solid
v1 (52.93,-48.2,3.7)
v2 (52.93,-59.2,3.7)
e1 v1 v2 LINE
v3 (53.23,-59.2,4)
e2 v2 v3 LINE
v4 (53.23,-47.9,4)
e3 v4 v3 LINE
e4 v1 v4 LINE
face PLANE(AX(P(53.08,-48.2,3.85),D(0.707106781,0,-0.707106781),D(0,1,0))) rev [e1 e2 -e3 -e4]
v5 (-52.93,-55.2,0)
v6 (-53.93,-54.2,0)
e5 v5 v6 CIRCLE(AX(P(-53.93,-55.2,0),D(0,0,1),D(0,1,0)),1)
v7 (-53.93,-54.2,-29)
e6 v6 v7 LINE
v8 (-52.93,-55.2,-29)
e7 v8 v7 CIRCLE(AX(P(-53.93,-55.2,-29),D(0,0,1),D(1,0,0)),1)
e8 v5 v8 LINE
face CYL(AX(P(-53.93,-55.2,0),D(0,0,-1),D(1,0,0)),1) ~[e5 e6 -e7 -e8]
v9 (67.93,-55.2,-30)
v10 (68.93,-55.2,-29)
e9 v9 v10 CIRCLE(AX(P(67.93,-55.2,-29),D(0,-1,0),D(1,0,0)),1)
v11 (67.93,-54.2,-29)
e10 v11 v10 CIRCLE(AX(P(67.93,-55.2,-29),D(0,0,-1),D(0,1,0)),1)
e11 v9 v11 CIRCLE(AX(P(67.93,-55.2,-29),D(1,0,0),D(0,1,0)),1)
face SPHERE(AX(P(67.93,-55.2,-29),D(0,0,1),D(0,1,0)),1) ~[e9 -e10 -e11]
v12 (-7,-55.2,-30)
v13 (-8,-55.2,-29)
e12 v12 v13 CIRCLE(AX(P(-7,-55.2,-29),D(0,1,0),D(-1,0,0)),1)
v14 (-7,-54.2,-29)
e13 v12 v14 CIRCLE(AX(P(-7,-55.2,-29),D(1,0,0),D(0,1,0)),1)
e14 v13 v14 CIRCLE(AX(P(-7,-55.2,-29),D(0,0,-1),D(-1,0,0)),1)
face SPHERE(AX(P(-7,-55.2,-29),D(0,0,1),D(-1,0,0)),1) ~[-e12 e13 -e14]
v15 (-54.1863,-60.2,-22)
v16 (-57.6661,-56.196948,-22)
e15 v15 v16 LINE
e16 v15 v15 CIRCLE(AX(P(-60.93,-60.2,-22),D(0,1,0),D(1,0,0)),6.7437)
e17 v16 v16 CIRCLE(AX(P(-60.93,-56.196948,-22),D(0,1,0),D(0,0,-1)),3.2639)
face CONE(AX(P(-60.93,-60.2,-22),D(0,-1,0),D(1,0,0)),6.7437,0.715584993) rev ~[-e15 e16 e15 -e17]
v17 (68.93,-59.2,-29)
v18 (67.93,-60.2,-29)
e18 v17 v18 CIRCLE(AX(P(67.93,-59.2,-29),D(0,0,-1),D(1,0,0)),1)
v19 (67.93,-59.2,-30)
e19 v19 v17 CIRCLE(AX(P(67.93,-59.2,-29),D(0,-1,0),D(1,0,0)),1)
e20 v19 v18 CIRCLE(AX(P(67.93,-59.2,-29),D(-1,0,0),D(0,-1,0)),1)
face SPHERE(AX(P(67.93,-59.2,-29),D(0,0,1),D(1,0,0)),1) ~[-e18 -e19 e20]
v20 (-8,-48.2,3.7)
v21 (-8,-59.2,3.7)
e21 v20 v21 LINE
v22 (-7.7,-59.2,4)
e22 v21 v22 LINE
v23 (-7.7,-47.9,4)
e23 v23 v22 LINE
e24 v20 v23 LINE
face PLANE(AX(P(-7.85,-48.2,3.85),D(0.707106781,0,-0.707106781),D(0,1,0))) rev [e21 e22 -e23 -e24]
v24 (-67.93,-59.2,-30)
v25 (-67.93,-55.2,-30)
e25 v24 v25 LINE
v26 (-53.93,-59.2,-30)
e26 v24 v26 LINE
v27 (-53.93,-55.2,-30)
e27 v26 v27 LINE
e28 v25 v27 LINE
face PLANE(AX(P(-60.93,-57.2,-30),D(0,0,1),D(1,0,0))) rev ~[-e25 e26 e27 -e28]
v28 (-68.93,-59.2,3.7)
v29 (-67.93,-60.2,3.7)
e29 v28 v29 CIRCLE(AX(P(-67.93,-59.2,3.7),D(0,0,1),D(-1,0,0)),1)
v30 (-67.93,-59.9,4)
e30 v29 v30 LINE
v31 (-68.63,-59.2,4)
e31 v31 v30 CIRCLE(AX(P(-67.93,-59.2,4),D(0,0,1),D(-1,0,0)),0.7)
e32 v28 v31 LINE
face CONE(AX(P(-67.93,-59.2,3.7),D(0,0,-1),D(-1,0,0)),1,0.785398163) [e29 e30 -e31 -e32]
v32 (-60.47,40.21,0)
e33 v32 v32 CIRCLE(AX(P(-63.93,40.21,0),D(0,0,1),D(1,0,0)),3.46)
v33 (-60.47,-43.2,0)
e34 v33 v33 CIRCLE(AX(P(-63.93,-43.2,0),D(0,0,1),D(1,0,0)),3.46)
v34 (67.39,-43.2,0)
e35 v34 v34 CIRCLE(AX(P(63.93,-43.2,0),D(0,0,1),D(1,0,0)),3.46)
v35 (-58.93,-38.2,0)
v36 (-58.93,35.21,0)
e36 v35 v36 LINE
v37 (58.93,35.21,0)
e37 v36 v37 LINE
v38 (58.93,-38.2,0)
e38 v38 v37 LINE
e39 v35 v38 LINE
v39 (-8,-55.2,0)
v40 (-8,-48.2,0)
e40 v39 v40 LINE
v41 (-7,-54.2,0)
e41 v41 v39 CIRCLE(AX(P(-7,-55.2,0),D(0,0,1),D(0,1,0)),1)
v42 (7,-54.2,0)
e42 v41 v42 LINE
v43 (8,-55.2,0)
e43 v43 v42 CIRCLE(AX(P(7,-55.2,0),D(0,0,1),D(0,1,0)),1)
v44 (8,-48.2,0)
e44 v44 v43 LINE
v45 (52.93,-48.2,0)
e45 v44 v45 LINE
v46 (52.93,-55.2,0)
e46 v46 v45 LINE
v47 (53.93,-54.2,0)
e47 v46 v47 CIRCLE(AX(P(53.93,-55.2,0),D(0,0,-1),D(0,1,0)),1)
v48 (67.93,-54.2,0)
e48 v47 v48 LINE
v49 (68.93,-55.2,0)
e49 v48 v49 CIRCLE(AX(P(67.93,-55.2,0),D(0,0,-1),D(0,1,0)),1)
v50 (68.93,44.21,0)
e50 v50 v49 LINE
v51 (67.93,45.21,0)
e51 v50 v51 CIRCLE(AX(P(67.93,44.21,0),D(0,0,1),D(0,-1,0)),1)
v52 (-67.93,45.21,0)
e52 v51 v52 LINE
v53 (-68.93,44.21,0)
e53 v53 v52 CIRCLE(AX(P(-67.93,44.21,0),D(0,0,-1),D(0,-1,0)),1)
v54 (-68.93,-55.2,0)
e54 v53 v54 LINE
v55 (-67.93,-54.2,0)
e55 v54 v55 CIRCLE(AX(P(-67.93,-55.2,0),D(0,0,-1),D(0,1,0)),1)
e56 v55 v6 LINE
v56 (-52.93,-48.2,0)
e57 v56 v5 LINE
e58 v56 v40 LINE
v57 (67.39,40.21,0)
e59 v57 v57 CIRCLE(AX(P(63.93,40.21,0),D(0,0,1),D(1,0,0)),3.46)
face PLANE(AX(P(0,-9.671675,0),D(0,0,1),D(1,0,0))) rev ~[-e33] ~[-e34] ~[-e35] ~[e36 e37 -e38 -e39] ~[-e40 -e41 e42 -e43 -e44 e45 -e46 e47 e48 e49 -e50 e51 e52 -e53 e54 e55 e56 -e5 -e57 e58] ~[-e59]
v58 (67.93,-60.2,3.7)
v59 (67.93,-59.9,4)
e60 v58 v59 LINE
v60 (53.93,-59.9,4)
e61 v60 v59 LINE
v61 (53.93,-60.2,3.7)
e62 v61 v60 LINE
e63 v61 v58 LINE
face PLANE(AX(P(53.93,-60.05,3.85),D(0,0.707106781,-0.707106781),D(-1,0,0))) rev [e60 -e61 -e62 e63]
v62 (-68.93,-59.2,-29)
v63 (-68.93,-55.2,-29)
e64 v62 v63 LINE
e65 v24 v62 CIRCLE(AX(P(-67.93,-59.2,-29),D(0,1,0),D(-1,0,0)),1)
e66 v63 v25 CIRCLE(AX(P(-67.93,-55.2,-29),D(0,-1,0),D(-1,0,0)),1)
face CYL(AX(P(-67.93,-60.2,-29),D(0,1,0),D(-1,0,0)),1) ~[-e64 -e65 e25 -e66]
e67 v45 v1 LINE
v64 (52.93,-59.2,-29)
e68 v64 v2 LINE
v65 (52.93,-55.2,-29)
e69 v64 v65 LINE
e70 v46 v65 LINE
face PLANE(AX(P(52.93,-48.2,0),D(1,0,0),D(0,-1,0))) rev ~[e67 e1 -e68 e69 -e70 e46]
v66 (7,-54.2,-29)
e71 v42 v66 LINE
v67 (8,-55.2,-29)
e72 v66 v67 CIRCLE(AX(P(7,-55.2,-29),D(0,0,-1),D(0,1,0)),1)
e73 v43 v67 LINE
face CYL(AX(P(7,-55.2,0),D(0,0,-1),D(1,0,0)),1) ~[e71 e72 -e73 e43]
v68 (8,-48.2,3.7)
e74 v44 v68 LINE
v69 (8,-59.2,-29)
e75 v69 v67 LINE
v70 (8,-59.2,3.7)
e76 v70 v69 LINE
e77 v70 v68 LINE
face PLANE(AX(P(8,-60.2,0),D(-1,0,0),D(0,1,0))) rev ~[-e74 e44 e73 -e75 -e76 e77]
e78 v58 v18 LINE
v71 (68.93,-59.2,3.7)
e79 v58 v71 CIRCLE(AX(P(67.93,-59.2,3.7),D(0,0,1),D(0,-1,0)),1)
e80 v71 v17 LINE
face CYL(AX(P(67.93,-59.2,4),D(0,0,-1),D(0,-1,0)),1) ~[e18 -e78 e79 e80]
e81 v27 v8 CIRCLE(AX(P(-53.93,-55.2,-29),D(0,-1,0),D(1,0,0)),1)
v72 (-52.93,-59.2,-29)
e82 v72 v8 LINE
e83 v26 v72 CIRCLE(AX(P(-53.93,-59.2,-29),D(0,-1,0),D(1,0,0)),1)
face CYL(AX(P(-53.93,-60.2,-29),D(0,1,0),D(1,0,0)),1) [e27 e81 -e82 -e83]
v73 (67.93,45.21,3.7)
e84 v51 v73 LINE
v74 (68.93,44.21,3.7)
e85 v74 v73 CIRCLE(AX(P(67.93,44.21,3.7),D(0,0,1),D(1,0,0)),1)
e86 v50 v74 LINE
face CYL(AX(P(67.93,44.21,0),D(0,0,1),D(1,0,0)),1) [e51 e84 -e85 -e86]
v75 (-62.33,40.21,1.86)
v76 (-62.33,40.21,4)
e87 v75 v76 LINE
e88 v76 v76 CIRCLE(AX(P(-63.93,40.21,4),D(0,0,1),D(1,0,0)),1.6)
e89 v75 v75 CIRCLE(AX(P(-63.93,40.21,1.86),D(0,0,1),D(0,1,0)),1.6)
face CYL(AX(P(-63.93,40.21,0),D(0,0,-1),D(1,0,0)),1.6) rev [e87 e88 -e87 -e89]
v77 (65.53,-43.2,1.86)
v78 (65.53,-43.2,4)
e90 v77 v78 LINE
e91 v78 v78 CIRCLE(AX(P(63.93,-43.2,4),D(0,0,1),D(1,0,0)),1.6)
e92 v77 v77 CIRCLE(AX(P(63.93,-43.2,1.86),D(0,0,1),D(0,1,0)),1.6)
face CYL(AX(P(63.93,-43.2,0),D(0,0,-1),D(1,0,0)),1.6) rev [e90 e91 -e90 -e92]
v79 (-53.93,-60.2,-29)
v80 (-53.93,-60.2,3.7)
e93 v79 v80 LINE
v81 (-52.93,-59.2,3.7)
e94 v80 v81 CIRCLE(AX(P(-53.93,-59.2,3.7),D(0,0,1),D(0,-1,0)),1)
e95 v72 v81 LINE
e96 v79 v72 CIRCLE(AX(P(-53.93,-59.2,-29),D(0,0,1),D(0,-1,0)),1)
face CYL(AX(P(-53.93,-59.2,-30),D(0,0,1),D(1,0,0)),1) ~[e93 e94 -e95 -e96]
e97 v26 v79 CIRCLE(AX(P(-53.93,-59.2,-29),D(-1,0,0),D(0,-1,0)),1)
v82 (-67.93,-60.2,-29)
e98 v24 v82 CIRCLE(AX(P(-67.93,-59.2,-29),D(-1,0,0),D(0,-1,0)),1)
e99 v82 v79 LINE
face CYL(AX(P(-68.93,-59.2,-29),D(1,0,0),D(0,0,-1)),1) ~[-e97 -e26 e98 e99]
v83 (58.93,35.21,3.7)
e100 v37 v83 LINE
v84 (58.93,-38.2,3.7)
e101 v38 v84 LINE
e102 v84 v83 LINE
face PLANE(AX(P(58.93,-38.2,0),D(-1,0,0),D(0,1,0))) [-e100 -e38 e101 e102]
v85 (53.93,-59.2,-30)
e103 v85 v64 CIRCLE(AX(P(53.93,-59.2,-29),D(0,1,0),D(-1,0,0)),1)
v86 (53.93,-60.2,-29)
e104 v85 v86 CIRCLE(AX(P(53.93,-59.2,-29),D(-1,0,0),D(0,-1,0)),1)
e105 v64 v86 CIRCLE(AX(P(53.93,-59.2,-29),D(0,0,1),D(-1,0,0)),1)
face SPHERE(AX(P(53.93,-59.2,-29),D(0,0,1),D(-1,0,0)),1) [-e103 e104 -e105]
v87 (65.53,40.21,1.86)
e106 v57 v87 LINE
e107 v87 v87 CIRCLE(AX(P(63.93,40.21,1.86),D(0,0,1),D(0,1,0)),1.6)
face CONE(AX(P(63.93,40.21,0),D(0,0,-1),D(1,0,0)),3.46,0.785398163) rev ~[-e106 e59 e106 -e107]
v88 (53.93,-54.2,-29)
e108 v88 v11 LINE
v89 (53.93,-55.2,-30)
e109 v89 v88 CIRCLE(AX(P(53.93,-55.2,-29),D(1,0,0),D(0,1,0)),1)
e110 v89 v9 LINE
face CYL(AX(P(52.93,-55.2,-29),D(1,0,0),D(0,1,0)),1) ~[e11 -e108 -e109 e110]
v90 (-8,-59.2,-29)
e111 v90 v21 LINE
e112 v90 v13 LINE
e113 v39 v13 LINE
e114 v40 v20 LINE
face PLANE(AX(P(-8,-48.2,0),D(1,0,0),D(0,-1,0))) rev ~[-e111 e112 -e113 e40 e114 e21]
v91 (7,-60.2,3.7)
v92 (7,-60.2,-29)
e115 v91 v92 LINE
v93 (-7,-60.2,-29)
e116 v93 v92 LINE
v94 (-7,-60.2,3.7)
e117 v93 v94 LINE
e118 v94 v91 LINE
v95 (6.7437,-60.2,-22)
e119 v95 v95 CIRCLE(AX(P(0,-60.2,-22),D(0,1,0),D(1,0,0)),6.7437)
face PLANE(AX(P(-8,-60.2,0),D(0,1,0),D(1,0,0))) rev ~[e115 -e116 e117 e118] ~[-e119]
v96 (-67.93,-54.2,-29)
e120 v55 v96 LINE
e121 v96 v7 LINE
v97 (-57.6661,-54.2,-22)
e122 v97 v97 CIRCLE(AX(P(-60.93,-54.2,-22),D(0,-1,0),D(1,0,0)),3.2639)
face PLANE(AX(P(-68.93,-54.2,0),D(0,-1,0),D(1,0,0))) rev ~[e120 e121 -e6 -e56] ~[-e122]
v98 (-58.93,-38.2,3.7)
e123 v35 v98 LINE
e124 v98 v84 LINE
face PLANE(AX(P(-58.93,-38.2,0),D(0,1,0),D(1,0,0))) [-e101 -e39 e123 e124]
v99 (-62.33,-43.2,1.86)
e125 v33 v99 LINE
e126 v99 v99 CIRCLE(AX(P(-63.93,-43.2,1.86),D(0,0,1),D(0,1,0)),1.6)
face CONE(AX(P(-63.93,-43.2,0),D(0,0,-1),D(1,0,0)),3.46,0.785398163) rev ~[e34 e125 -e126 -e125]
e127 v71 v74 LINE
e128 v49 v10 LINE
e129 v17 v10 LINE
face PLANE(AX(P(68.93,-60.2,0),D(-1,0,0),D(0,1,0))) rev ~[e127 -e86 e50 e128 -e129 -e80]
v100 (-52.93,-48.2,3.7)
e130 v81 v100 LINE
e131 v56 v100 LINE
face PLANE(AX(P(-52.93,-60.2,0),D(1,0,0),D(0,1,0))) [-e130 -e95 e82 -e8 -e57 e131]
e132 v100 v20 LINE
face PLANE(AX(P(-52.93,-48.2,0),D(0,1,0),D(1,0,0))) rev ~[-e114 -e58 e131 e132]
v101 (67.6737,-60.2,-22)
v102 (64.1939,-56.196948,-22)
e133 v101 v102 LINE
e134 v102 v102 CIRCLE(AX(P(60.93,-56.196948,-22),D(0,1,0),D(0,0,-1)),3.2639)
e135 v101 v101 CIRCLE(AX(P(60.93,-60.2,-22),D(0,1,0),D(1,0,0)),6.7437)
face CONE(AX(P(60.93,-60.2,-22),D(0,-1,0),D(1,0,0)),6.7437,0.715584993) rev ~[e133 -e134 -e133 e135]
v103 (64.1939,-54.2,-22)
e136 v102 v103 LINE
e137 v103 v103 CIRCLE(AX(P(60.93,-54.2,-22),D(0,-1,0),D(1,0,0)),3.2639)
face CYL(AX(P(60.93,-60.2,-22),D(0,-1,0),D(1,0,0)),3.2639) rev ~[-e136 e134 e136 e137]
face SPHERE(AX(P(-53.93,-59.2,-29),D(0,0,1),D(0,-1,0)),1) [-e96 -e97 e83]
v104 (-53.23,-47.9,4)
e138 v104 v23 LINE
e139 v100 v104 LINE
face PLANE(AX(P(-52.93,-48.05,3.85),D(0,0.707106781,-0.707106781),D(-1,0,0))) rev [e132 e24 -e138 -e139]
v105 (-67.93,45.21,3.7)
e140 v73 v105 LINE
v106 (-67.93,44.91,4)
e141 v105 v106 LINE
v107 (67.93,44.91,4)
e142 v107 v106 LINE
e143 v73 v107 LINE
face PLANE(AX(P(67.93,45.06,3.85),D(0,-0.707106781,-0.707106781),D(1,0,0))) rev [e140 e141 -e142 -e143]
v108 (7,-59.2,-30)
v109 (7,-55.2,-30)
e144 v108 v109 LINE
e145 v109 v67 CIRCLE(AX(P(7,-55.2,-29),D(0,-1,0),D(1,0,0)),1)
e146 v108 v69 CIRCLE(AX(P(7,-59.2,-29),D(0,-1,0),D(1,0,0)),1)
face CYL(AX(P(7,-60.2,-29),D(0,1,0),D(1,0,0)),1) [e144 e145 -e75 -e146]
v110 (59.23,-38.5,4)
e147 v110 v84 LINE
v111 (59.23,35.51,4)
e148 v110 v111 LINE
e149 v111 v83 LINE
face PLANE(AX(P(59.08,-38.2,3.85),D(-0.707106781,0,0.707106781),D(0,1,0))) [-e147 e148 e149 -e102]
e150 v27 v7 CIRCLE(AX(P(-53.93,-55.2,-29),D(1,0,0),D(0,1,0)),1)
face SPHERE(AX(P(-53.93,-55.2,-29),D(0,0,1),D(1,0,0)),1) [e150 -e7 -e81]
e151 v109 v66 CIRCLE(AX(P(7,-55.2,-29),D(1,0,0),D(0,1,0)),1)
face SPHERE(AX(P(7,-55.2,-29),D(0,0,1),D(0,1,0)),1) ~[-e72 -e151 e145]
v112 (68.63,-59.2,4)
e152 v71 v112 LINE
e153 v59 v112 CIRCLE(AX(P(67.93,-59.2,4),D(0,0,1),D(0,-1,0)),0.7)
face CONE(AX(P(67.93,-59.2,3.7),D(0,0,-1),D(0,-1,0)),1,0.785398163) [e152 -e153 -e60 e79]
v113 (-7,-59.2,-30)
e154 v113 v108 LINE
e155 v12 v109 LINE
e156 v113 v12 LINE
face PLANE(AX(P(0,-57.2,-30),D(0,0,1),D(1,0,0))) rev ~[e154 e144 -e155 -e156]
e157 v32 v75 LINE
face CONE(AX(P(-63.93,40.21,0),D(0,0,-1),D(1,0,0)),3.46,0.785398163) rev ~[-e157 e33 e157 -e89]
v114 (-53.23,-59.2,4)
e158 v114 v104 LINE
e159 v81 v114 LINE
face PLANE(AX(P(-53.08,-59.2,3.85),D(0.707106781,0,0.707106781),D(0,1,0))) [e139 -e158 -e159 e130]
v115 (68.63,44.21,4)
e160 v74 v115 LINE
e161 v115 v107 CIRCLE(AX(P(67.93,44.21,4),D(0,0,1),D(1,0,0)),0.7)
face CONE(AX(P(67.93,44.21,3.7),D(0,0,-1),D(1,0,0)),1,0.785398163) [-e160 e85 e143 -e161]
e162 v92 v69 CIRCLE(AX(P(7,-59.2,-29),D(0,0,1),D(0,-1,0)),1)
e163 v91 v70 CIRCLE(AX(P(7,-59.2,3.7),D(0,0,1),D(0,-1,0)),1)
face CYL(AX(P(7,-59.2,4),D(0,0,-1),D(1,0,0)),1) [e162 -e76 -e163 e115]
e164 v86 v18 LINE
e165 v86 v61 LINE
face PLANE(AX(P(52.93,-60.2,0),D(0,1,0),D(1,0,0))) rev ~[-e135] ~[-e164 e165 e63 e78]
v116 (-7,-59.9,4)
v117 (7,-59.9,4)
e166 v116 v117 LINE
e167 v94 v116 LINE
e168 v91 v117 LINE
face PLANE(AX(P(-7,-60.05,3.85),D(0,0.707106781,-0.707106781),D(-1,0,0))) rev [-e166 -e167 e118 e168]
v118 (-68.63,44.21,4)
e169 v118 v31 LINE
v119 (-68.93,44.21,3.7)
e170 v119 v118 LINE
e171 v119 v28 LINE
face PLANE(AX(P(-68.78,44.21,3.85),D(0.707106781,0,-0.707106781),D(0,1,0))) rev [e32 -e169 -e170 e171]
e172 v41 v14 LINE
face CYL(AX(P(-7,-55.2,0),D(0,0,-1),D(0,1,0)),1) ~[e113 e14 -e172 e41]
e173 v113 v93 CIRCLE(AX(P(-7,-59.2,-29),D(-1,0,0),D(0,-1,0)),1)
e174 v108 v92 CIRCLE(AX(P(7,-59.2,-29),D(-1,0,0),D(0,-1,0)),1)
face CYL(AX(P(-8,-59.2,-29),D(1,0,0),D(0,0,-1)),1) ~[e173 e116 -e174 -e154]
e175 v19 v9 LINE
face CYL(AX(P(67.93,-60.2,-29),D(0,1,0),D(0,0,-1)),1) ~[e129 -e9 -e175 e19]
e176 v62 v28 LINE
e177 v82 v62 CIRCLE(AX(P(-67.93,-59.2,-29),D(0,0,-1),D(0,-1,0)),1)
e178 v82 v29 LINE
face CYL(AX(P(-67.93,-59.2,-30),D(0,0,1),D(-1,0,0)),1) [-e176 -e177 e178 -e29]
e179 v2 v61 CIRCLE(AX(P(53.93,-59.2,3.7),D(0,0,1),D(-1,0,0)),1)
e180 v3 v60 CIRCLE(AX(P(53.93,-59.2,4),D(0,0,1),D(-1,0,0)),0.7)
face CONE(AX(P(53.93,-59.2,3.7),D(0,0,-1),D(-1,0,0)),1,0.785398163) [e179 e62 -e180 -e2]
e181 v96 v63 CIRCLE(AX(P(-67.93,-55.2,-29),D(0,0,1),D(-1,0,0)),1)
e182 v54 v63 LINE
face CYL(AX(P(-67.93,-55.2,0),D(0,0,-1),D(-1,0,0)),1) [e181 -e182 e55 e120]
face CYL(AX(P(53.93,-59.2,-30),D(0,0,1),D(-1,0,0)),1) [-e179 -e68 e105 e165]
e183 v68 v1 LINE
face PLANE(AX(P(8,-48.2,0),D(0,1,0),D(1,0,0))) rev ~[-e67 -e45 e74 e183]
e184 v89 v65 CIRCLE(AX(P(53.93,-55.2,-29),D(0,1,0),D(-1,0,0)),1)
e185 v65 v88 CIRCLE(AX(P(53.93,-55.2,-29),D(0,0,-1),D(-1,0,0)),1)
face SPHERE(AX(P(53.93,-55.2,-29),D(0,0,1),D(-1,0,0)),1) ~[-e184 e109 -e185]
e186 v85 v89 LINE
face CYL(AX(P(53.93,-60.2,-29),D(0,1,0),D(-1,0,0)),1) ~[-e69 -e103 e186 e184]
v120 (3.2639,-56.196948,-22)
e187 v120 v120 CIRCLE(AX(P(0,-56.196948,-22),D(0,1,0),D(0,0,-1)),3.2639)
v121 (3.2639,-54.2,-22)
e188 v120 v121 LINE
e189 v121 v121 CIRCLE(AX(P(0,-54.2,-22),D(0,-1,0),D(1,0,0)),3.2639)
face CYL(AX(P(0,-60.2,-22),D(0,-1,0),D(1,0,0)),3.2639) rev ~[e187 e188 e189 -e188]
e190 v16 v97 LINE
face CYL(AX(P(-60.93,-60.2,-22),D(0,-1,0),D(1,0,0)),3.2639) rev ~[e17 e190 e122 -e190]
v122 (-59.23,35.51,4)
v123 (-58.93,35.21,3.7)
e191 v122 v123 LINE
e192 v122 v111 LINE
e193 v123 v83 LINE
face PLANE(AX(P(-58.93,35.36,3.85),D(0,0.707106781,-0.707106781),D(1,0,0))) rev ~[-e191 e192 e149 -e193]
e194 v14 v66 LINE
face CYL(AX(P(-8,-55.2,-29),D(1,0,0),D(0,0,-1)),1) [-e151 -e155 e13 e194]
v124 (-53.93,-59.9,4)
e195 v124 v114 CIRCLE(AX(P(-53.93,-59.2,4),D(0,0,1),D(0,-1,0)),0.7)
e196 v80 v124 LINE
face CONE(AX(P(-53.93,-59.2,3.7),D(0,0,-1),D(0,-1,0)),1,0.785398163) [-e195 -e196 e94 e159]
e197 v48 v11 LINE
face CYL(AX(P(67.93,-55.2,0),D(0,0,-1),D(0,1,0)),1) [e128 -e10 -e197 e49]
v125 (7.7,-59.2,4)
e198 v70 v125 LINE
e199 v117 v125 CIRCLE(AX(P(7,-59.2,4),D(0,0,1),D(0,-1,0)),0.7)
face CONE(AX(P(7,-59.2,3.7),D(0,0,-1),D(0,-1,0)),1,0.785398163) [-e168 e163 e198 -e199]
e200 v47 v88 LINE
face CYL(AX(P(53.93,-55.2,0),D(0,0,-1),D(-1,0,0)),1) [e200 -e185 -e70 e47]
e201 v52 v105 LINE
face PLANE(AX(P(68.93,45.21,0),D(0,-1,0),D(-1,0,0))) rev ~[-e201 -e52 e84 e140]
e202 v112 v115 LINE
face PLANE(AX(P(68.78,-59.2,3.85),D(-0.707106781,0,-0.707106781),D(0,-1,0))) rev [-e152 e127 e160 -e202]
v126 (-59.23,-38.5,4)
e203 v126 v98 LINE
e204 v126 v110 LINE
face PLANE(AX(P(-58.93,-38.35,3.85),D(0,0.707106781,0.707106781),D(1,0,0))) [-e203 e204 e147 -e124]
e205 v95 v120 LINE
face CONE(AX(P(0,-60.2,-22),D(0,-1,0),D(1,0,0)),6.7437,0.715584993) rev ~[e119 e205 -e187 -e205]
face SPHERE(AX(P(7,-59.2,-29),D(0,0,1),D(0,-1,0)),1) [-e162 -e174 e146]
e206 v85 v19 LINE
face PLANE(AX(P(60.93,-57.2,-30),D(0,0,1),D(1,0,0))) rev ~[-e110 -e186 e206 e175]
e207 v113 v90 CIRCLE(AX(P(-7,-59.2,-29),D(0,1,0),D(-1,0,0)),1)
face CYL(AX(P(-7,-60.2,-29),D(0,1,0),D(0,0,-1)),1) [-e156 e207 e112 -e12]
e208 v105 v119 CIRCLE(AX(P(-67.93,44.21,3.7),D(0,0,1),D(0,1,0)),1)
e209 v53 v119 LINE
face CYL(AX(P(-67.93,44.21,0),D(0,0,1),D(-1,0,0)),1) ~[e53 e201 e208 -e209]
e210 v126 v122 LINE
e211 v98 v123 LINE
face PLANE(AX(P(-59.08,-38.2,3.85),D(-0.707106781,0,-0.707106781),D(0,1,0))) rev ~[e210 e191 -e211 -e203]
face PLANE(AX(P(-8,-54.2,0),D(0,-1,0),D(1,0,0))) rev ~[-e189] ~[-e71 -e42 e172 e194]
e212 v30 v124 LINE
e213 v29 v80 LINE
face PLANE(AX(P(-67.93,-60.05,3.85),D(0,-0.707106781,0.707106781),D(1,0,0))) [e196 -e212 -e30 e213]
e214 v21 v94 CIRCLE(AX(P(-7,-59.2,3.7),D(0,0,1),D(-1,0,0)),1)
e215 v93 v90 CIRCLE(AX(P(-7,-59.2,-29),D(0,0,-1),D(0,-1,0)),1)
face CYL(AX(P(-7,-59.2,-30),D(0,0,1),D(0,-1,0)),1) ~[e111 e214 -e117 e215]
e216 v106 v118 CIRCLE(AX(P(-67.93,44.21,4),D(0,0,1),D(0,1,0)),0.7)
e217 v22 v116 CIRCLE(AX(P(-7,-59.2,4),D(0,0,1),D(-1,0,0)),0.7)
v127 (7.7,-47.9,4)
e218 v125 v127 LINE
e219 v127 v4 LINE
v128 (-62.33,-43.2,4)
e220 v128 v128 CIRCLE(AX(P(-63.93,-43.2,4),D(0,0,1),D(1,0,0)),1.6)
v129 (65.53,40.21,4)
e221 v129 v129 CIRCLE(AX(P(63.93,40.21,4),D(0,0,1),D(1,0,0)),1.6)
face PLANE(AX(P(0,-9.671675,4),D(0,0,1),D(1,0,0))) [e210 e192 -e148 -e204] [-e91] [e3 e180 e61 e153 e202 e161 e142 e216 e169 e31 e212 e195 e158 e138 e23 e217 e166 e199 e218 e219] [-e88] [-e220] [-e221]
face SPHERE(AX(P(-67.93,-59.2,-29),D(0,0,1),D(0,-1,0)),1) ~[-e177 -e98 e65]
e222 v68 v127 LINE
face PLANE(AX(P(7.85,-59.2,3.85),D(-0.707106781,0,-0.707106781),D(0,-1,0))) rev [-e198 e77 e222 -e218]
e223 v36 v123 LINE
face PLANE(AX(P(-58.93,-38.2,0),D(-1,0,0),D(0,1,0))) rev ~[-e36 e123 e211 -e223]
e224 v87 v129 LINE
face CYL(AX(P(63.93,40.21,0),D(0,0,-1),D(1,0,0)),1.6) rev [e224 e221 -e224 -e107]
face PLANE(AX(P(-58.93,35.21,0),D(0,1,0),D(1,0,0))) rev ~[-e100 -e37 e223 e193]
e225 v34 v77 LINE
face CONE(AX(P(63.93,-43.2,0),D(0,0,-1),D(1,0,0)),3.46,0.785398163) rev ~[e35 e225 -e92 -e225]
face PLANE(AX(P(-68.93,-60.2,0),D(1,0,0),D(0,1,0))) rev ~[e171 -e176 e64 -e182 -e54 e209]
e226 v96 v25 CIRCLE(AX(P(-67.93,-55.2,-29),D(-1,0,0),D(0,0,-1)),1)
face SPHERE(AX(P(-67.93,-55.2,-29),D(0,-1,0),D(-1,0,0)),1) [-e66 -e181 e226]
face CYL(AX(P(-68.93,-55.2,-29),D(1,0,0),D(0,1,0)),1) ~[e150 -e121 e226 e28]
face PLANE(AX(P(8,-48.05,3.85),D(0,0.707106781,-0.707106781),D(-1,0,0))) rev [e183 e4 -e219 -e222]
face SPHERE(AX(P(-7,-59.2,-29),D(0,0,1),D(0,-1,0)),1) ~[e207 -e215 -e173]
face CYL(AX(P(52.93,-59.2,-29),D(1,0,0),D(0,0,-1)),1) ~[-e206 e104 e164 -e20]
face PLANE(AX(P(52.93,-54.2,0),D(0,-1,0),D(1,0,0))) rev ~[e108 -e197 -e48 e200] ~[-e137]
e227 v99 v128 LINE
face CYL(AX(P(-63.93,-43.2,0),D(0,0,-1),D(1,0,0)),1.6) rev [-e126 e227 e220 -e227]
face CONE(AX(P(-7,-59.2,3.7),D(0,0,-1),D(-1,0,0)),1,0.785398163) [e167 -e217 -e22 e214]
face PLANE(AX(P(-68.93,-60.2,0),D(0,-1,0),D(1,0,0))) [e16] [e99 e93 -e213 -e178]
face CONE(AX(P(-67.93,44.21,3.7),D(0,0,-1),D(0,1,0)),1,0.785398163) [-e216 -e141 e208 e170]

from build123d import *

# Parameters (mm, degrees)
SKETCH1_W                                           = 117.86
SKETCH1_H                                           = 73.41
SKETCH1_R                                           = 1.6
BOSS_EXTRUDE1_DEPTH                                 = 4
SKETCH1_3_W                                         = 16
SKETCH1_3_H                                         = 6
BOSS_EXTRUDE2_DEPTH                                 = 30
CUT_EXTRUDE1_REACH                                  = 131.471
SKETCH2_R                                           = 3.2639
CSK_FOR_1_4_FLAT_HEAD_SOCKET_CAP_SCREW1_D           = 6.5278
CSK_FOR_1_4_FLAT_HEAD_SOCKET_CAP_SCREW1_CSINK_D     = 13.4874
CSK_FOR_1_4_FLAT_HEAD_SOCKET_CAP_SCREW1_CSINK_ANGLE = 82
FILLET1_R                                           = 1
CSK_FOR_M3_SFHCS1_D                                 = 3.2
CSK_FOR_M3_SFHCS1_CSINK_D                           = 6.92
CSK_FOR_M3_SFHCS1_CSINK_ANGLE                       = 90
CHAMFER1_SIZE                                       = 0.3


with BuildPart() as part:
    # Sketch1 → Boss-Extrude1 (new body)
    with BuildSketch(Plane.XY):
        Polygon((-68.93, 45.21), (-68.93, -60.2), (-52.93, -60.2), (-52.93, -48.2), (-8, -48.2), (-8, -60.2), (8, -60.2), (8, -48.2), (52.93, -48.2), (52.93, -60.2), (68.93, -60.2), (68.93, 45.21), align=None)
        with Locations((0, -1.495)):
            Rectangle(SKETCH1_W, SKETCH1_H, mode=Mode.SUBTRACT)
        with Locations((63.93, 40.21)):
            Circle(SKETCH1_R, mode=Mode.SUBTRACT)
        with Locations((63.93, -43.2)):
            Circle(SKETCH1_R, mode=Mode.SUBTRACT)
        with Locations((-63.93, 40.21)):
            Circle(SKETCH1_R, mode=Mode.SUBTRACT)
        with Locations((-63.93, -43.2)):
            Circle(SKETCH1_R, mode=Mode.SUBTRACT)
    extrude(amount=BOSS_EXTRUDE1_DEPTH)

    # Sketch1<3> → Boss-Extrude2 (add)
    with BuildSketch(Plane.XY):
        with Locations((-60.93, -57.2)):
            Rectangle(SKETCH1_3_W, SKETCH1_3_H)
        with Locations((60.93, -57.2)):
            Rectangle(SKETCH1_3_W, SKETCH1_3_H)
        with Locations((0, -57.2)):
            Rectangle(SKETCH1_3_W, SKETCH1_3_H)
    extrude(amount=-BOSS_EXTRUDE2_DEPTH)

    # Sketch2 → Cut-Extrude1 (cut, up to next)
    with BuildSketch(Plane.XZ.offset(60.2), mode=Mode.PRIVATE) as cut_extrude1_sk1:
        with Locations((-60.93, -22)):
            Circle(SKETCH2_R)
    cut_extrude1_tool1 = extrude(cut_extrude1_sk1.sketch, amount=-CUT_EXTRUDE1_REACH, mode=Mode.PRIVATE) & part.part
    # Sketch2 → Cut-Extrude1 (cut, up to next)
    with BuildSketch(Plane.XZ.offset(60.2), mode=Mode.PRIVATE) as cut_extrude1_sk2:
        with Locations((0, -22)):
            Circle(SKETCH2_R)
    cut_extrude1_tool2 = extrude(cut_extrude1_sk2.sketch, amount=-CUT_EXTRUDE1_REACH, mode=Mode.PRIVATE) & part.part
    # Sketch2 → Cut-Extrude1 (cut, up to next)
    with BuildSketch(Plane.XZ.offset(60.2), mode=Mode.PRIVATE) as cut_extrude1_sk3:
        with Locations((60.93, -22)):
            Circle(SKETCH2_R)
    cut_extrude1_tool3 = extrude(cut_extrude1_sk3.sketch, amount=-CUT_EXTRUDE1_REACH, mode=Mode.PRIVATE) & part.part
    add(cut_extrude1_tool1.solids().sort_by_distance((-60.93, -60.2, -22))[0], mode=Mode.SUBTRACT)
    add(cut_extrude1_tool2.solids().sort_by_distance((0, -60.2, -22))[0], mode=Mode.SUBTRACT)
    add(cut_extrude1_tool3.solids().sort_by_distance((60.93, -60.2, -22))[0], mode=Mode.SUBTRACT)

    # CSK for 1/4 Flat Head Socket Cap Screw1 (through all)
    with Locations(Plane(origin=(0, -60.2, 0), x_dir=(-1, 0, 0), z_dir=(0, -1, 0))):
        with Locations((60.93, 22), (0, 22), (-60.93, 22)):
            CounterSinkHole(CSK_FOR_1_4_FLAT_HEAD_SOCKET_CAP_SCREW1_D / 2, CSK_FOR_1_4_FLAT_HEAD_SOCKET_CAP_SCREW1_CSINK_D / 2, counter_sink_angle=CSK_FOR_1_4_FLAT_HEAD_SOCKET_CAP_SCREW1_CSINK_ANGLE)

    # Fillet1
    fillet1_edges = [part.edges().sort_by_distance(p)[0] for p in [
        (-60.93, -54.2, -30),
        (-68.93, -57.2, -30),
        (-60.93, -60.2, -30),
        (-52.93, -57.2, -30),
        (-8, -57.2, -30),
        (0, -60.2, -30),
        (8, -57.2, -30),
        (0, -54.2, -30),
        (52.93, -57.2, -30),
        (60.93, -60.2, -30),
        (68.93, -57.2, -30),
        (60.93, -54.2, -30),
        (52.93, -54.2, -15),
        (-8, -54.2, -15),
        (-68.93, -54.2, -15),
        (-52.93, -54.2, -15),
        (8, -54.2, -15),
        (68.93, -54.2, -15),
        (68.93, -60.2, -13),
        (52.93, -60.2, -13),
        (8, -60.2, -13),
        (-8, -60.2, -13),
        (-68.93, -60.2, -13),
        (-52.93, -60.2, -13),
        (-68.93, 45.21, 2),
        (68.93, 45.21, 2),
    ]]
    fillet(fillet1_edges, radius=FILLET1_R)

    # CSK for M3 SFHCS1 (through all)
    with Locations(Plane(origin=(0, 0, 0), x_dir=(-1, 0, 0), z_dir=(0, 0, -1))):
        with Locations((63.93, 40.21), (63.93, -43.2), (-63.93, -43.2), (-63.93, 40.21)):
            CounterSinkHole(CSK_FOR_M3_SFHCS1_D / 2, CSK_FOR_M3_SFHCS1_CSINK_D / 2, counter_sink_angle=CSK_FOR_M3_SFHCS1_CSINK_ANGLE)

    # Chamfer1
    chamfer1_edges = [part.edges().sort_by_distance(p)[0] for p in [
        (0, -38.2, 4),
        (58.93, -1.495, 4),
        (-58.93, -1.495, 4),
        (0, 35.21, 4),
        (-8, -53.7, 4),
        (8, -53.7, 4),
        (-7.707106781, -59.907106781, 4),
        (7.707106781, -59.907106781, 4),
        (0, -60.2, 4),
        (30.465, -48.2, 4),
        (-30.465, -48.2, 4),
        (52.93, -53.7, 4),
        (53.222893219, -59.907106781, 4),
        (60.93, -60.2, 4),
        (68.637106781, -59.907106781, 4),
        (68.93, -7.495, 4),
        (68.637106781, 44.917106781, 4),
        (0, 45.21, 4),
        (-68.637106781, 44.917106781, 4),
        (-68.93, -7.495, 4),
        (-52.93, -53.7, 4),
        (-68.637106781, -59.907106781, 4),
        (-53.222893219, -59.907106781, 4),
        (-60.93, -60.2, 4),
    ]]
    chamfer(chamfer1_edges, length=CHAMFER1_SIZE)


solid = part.part
